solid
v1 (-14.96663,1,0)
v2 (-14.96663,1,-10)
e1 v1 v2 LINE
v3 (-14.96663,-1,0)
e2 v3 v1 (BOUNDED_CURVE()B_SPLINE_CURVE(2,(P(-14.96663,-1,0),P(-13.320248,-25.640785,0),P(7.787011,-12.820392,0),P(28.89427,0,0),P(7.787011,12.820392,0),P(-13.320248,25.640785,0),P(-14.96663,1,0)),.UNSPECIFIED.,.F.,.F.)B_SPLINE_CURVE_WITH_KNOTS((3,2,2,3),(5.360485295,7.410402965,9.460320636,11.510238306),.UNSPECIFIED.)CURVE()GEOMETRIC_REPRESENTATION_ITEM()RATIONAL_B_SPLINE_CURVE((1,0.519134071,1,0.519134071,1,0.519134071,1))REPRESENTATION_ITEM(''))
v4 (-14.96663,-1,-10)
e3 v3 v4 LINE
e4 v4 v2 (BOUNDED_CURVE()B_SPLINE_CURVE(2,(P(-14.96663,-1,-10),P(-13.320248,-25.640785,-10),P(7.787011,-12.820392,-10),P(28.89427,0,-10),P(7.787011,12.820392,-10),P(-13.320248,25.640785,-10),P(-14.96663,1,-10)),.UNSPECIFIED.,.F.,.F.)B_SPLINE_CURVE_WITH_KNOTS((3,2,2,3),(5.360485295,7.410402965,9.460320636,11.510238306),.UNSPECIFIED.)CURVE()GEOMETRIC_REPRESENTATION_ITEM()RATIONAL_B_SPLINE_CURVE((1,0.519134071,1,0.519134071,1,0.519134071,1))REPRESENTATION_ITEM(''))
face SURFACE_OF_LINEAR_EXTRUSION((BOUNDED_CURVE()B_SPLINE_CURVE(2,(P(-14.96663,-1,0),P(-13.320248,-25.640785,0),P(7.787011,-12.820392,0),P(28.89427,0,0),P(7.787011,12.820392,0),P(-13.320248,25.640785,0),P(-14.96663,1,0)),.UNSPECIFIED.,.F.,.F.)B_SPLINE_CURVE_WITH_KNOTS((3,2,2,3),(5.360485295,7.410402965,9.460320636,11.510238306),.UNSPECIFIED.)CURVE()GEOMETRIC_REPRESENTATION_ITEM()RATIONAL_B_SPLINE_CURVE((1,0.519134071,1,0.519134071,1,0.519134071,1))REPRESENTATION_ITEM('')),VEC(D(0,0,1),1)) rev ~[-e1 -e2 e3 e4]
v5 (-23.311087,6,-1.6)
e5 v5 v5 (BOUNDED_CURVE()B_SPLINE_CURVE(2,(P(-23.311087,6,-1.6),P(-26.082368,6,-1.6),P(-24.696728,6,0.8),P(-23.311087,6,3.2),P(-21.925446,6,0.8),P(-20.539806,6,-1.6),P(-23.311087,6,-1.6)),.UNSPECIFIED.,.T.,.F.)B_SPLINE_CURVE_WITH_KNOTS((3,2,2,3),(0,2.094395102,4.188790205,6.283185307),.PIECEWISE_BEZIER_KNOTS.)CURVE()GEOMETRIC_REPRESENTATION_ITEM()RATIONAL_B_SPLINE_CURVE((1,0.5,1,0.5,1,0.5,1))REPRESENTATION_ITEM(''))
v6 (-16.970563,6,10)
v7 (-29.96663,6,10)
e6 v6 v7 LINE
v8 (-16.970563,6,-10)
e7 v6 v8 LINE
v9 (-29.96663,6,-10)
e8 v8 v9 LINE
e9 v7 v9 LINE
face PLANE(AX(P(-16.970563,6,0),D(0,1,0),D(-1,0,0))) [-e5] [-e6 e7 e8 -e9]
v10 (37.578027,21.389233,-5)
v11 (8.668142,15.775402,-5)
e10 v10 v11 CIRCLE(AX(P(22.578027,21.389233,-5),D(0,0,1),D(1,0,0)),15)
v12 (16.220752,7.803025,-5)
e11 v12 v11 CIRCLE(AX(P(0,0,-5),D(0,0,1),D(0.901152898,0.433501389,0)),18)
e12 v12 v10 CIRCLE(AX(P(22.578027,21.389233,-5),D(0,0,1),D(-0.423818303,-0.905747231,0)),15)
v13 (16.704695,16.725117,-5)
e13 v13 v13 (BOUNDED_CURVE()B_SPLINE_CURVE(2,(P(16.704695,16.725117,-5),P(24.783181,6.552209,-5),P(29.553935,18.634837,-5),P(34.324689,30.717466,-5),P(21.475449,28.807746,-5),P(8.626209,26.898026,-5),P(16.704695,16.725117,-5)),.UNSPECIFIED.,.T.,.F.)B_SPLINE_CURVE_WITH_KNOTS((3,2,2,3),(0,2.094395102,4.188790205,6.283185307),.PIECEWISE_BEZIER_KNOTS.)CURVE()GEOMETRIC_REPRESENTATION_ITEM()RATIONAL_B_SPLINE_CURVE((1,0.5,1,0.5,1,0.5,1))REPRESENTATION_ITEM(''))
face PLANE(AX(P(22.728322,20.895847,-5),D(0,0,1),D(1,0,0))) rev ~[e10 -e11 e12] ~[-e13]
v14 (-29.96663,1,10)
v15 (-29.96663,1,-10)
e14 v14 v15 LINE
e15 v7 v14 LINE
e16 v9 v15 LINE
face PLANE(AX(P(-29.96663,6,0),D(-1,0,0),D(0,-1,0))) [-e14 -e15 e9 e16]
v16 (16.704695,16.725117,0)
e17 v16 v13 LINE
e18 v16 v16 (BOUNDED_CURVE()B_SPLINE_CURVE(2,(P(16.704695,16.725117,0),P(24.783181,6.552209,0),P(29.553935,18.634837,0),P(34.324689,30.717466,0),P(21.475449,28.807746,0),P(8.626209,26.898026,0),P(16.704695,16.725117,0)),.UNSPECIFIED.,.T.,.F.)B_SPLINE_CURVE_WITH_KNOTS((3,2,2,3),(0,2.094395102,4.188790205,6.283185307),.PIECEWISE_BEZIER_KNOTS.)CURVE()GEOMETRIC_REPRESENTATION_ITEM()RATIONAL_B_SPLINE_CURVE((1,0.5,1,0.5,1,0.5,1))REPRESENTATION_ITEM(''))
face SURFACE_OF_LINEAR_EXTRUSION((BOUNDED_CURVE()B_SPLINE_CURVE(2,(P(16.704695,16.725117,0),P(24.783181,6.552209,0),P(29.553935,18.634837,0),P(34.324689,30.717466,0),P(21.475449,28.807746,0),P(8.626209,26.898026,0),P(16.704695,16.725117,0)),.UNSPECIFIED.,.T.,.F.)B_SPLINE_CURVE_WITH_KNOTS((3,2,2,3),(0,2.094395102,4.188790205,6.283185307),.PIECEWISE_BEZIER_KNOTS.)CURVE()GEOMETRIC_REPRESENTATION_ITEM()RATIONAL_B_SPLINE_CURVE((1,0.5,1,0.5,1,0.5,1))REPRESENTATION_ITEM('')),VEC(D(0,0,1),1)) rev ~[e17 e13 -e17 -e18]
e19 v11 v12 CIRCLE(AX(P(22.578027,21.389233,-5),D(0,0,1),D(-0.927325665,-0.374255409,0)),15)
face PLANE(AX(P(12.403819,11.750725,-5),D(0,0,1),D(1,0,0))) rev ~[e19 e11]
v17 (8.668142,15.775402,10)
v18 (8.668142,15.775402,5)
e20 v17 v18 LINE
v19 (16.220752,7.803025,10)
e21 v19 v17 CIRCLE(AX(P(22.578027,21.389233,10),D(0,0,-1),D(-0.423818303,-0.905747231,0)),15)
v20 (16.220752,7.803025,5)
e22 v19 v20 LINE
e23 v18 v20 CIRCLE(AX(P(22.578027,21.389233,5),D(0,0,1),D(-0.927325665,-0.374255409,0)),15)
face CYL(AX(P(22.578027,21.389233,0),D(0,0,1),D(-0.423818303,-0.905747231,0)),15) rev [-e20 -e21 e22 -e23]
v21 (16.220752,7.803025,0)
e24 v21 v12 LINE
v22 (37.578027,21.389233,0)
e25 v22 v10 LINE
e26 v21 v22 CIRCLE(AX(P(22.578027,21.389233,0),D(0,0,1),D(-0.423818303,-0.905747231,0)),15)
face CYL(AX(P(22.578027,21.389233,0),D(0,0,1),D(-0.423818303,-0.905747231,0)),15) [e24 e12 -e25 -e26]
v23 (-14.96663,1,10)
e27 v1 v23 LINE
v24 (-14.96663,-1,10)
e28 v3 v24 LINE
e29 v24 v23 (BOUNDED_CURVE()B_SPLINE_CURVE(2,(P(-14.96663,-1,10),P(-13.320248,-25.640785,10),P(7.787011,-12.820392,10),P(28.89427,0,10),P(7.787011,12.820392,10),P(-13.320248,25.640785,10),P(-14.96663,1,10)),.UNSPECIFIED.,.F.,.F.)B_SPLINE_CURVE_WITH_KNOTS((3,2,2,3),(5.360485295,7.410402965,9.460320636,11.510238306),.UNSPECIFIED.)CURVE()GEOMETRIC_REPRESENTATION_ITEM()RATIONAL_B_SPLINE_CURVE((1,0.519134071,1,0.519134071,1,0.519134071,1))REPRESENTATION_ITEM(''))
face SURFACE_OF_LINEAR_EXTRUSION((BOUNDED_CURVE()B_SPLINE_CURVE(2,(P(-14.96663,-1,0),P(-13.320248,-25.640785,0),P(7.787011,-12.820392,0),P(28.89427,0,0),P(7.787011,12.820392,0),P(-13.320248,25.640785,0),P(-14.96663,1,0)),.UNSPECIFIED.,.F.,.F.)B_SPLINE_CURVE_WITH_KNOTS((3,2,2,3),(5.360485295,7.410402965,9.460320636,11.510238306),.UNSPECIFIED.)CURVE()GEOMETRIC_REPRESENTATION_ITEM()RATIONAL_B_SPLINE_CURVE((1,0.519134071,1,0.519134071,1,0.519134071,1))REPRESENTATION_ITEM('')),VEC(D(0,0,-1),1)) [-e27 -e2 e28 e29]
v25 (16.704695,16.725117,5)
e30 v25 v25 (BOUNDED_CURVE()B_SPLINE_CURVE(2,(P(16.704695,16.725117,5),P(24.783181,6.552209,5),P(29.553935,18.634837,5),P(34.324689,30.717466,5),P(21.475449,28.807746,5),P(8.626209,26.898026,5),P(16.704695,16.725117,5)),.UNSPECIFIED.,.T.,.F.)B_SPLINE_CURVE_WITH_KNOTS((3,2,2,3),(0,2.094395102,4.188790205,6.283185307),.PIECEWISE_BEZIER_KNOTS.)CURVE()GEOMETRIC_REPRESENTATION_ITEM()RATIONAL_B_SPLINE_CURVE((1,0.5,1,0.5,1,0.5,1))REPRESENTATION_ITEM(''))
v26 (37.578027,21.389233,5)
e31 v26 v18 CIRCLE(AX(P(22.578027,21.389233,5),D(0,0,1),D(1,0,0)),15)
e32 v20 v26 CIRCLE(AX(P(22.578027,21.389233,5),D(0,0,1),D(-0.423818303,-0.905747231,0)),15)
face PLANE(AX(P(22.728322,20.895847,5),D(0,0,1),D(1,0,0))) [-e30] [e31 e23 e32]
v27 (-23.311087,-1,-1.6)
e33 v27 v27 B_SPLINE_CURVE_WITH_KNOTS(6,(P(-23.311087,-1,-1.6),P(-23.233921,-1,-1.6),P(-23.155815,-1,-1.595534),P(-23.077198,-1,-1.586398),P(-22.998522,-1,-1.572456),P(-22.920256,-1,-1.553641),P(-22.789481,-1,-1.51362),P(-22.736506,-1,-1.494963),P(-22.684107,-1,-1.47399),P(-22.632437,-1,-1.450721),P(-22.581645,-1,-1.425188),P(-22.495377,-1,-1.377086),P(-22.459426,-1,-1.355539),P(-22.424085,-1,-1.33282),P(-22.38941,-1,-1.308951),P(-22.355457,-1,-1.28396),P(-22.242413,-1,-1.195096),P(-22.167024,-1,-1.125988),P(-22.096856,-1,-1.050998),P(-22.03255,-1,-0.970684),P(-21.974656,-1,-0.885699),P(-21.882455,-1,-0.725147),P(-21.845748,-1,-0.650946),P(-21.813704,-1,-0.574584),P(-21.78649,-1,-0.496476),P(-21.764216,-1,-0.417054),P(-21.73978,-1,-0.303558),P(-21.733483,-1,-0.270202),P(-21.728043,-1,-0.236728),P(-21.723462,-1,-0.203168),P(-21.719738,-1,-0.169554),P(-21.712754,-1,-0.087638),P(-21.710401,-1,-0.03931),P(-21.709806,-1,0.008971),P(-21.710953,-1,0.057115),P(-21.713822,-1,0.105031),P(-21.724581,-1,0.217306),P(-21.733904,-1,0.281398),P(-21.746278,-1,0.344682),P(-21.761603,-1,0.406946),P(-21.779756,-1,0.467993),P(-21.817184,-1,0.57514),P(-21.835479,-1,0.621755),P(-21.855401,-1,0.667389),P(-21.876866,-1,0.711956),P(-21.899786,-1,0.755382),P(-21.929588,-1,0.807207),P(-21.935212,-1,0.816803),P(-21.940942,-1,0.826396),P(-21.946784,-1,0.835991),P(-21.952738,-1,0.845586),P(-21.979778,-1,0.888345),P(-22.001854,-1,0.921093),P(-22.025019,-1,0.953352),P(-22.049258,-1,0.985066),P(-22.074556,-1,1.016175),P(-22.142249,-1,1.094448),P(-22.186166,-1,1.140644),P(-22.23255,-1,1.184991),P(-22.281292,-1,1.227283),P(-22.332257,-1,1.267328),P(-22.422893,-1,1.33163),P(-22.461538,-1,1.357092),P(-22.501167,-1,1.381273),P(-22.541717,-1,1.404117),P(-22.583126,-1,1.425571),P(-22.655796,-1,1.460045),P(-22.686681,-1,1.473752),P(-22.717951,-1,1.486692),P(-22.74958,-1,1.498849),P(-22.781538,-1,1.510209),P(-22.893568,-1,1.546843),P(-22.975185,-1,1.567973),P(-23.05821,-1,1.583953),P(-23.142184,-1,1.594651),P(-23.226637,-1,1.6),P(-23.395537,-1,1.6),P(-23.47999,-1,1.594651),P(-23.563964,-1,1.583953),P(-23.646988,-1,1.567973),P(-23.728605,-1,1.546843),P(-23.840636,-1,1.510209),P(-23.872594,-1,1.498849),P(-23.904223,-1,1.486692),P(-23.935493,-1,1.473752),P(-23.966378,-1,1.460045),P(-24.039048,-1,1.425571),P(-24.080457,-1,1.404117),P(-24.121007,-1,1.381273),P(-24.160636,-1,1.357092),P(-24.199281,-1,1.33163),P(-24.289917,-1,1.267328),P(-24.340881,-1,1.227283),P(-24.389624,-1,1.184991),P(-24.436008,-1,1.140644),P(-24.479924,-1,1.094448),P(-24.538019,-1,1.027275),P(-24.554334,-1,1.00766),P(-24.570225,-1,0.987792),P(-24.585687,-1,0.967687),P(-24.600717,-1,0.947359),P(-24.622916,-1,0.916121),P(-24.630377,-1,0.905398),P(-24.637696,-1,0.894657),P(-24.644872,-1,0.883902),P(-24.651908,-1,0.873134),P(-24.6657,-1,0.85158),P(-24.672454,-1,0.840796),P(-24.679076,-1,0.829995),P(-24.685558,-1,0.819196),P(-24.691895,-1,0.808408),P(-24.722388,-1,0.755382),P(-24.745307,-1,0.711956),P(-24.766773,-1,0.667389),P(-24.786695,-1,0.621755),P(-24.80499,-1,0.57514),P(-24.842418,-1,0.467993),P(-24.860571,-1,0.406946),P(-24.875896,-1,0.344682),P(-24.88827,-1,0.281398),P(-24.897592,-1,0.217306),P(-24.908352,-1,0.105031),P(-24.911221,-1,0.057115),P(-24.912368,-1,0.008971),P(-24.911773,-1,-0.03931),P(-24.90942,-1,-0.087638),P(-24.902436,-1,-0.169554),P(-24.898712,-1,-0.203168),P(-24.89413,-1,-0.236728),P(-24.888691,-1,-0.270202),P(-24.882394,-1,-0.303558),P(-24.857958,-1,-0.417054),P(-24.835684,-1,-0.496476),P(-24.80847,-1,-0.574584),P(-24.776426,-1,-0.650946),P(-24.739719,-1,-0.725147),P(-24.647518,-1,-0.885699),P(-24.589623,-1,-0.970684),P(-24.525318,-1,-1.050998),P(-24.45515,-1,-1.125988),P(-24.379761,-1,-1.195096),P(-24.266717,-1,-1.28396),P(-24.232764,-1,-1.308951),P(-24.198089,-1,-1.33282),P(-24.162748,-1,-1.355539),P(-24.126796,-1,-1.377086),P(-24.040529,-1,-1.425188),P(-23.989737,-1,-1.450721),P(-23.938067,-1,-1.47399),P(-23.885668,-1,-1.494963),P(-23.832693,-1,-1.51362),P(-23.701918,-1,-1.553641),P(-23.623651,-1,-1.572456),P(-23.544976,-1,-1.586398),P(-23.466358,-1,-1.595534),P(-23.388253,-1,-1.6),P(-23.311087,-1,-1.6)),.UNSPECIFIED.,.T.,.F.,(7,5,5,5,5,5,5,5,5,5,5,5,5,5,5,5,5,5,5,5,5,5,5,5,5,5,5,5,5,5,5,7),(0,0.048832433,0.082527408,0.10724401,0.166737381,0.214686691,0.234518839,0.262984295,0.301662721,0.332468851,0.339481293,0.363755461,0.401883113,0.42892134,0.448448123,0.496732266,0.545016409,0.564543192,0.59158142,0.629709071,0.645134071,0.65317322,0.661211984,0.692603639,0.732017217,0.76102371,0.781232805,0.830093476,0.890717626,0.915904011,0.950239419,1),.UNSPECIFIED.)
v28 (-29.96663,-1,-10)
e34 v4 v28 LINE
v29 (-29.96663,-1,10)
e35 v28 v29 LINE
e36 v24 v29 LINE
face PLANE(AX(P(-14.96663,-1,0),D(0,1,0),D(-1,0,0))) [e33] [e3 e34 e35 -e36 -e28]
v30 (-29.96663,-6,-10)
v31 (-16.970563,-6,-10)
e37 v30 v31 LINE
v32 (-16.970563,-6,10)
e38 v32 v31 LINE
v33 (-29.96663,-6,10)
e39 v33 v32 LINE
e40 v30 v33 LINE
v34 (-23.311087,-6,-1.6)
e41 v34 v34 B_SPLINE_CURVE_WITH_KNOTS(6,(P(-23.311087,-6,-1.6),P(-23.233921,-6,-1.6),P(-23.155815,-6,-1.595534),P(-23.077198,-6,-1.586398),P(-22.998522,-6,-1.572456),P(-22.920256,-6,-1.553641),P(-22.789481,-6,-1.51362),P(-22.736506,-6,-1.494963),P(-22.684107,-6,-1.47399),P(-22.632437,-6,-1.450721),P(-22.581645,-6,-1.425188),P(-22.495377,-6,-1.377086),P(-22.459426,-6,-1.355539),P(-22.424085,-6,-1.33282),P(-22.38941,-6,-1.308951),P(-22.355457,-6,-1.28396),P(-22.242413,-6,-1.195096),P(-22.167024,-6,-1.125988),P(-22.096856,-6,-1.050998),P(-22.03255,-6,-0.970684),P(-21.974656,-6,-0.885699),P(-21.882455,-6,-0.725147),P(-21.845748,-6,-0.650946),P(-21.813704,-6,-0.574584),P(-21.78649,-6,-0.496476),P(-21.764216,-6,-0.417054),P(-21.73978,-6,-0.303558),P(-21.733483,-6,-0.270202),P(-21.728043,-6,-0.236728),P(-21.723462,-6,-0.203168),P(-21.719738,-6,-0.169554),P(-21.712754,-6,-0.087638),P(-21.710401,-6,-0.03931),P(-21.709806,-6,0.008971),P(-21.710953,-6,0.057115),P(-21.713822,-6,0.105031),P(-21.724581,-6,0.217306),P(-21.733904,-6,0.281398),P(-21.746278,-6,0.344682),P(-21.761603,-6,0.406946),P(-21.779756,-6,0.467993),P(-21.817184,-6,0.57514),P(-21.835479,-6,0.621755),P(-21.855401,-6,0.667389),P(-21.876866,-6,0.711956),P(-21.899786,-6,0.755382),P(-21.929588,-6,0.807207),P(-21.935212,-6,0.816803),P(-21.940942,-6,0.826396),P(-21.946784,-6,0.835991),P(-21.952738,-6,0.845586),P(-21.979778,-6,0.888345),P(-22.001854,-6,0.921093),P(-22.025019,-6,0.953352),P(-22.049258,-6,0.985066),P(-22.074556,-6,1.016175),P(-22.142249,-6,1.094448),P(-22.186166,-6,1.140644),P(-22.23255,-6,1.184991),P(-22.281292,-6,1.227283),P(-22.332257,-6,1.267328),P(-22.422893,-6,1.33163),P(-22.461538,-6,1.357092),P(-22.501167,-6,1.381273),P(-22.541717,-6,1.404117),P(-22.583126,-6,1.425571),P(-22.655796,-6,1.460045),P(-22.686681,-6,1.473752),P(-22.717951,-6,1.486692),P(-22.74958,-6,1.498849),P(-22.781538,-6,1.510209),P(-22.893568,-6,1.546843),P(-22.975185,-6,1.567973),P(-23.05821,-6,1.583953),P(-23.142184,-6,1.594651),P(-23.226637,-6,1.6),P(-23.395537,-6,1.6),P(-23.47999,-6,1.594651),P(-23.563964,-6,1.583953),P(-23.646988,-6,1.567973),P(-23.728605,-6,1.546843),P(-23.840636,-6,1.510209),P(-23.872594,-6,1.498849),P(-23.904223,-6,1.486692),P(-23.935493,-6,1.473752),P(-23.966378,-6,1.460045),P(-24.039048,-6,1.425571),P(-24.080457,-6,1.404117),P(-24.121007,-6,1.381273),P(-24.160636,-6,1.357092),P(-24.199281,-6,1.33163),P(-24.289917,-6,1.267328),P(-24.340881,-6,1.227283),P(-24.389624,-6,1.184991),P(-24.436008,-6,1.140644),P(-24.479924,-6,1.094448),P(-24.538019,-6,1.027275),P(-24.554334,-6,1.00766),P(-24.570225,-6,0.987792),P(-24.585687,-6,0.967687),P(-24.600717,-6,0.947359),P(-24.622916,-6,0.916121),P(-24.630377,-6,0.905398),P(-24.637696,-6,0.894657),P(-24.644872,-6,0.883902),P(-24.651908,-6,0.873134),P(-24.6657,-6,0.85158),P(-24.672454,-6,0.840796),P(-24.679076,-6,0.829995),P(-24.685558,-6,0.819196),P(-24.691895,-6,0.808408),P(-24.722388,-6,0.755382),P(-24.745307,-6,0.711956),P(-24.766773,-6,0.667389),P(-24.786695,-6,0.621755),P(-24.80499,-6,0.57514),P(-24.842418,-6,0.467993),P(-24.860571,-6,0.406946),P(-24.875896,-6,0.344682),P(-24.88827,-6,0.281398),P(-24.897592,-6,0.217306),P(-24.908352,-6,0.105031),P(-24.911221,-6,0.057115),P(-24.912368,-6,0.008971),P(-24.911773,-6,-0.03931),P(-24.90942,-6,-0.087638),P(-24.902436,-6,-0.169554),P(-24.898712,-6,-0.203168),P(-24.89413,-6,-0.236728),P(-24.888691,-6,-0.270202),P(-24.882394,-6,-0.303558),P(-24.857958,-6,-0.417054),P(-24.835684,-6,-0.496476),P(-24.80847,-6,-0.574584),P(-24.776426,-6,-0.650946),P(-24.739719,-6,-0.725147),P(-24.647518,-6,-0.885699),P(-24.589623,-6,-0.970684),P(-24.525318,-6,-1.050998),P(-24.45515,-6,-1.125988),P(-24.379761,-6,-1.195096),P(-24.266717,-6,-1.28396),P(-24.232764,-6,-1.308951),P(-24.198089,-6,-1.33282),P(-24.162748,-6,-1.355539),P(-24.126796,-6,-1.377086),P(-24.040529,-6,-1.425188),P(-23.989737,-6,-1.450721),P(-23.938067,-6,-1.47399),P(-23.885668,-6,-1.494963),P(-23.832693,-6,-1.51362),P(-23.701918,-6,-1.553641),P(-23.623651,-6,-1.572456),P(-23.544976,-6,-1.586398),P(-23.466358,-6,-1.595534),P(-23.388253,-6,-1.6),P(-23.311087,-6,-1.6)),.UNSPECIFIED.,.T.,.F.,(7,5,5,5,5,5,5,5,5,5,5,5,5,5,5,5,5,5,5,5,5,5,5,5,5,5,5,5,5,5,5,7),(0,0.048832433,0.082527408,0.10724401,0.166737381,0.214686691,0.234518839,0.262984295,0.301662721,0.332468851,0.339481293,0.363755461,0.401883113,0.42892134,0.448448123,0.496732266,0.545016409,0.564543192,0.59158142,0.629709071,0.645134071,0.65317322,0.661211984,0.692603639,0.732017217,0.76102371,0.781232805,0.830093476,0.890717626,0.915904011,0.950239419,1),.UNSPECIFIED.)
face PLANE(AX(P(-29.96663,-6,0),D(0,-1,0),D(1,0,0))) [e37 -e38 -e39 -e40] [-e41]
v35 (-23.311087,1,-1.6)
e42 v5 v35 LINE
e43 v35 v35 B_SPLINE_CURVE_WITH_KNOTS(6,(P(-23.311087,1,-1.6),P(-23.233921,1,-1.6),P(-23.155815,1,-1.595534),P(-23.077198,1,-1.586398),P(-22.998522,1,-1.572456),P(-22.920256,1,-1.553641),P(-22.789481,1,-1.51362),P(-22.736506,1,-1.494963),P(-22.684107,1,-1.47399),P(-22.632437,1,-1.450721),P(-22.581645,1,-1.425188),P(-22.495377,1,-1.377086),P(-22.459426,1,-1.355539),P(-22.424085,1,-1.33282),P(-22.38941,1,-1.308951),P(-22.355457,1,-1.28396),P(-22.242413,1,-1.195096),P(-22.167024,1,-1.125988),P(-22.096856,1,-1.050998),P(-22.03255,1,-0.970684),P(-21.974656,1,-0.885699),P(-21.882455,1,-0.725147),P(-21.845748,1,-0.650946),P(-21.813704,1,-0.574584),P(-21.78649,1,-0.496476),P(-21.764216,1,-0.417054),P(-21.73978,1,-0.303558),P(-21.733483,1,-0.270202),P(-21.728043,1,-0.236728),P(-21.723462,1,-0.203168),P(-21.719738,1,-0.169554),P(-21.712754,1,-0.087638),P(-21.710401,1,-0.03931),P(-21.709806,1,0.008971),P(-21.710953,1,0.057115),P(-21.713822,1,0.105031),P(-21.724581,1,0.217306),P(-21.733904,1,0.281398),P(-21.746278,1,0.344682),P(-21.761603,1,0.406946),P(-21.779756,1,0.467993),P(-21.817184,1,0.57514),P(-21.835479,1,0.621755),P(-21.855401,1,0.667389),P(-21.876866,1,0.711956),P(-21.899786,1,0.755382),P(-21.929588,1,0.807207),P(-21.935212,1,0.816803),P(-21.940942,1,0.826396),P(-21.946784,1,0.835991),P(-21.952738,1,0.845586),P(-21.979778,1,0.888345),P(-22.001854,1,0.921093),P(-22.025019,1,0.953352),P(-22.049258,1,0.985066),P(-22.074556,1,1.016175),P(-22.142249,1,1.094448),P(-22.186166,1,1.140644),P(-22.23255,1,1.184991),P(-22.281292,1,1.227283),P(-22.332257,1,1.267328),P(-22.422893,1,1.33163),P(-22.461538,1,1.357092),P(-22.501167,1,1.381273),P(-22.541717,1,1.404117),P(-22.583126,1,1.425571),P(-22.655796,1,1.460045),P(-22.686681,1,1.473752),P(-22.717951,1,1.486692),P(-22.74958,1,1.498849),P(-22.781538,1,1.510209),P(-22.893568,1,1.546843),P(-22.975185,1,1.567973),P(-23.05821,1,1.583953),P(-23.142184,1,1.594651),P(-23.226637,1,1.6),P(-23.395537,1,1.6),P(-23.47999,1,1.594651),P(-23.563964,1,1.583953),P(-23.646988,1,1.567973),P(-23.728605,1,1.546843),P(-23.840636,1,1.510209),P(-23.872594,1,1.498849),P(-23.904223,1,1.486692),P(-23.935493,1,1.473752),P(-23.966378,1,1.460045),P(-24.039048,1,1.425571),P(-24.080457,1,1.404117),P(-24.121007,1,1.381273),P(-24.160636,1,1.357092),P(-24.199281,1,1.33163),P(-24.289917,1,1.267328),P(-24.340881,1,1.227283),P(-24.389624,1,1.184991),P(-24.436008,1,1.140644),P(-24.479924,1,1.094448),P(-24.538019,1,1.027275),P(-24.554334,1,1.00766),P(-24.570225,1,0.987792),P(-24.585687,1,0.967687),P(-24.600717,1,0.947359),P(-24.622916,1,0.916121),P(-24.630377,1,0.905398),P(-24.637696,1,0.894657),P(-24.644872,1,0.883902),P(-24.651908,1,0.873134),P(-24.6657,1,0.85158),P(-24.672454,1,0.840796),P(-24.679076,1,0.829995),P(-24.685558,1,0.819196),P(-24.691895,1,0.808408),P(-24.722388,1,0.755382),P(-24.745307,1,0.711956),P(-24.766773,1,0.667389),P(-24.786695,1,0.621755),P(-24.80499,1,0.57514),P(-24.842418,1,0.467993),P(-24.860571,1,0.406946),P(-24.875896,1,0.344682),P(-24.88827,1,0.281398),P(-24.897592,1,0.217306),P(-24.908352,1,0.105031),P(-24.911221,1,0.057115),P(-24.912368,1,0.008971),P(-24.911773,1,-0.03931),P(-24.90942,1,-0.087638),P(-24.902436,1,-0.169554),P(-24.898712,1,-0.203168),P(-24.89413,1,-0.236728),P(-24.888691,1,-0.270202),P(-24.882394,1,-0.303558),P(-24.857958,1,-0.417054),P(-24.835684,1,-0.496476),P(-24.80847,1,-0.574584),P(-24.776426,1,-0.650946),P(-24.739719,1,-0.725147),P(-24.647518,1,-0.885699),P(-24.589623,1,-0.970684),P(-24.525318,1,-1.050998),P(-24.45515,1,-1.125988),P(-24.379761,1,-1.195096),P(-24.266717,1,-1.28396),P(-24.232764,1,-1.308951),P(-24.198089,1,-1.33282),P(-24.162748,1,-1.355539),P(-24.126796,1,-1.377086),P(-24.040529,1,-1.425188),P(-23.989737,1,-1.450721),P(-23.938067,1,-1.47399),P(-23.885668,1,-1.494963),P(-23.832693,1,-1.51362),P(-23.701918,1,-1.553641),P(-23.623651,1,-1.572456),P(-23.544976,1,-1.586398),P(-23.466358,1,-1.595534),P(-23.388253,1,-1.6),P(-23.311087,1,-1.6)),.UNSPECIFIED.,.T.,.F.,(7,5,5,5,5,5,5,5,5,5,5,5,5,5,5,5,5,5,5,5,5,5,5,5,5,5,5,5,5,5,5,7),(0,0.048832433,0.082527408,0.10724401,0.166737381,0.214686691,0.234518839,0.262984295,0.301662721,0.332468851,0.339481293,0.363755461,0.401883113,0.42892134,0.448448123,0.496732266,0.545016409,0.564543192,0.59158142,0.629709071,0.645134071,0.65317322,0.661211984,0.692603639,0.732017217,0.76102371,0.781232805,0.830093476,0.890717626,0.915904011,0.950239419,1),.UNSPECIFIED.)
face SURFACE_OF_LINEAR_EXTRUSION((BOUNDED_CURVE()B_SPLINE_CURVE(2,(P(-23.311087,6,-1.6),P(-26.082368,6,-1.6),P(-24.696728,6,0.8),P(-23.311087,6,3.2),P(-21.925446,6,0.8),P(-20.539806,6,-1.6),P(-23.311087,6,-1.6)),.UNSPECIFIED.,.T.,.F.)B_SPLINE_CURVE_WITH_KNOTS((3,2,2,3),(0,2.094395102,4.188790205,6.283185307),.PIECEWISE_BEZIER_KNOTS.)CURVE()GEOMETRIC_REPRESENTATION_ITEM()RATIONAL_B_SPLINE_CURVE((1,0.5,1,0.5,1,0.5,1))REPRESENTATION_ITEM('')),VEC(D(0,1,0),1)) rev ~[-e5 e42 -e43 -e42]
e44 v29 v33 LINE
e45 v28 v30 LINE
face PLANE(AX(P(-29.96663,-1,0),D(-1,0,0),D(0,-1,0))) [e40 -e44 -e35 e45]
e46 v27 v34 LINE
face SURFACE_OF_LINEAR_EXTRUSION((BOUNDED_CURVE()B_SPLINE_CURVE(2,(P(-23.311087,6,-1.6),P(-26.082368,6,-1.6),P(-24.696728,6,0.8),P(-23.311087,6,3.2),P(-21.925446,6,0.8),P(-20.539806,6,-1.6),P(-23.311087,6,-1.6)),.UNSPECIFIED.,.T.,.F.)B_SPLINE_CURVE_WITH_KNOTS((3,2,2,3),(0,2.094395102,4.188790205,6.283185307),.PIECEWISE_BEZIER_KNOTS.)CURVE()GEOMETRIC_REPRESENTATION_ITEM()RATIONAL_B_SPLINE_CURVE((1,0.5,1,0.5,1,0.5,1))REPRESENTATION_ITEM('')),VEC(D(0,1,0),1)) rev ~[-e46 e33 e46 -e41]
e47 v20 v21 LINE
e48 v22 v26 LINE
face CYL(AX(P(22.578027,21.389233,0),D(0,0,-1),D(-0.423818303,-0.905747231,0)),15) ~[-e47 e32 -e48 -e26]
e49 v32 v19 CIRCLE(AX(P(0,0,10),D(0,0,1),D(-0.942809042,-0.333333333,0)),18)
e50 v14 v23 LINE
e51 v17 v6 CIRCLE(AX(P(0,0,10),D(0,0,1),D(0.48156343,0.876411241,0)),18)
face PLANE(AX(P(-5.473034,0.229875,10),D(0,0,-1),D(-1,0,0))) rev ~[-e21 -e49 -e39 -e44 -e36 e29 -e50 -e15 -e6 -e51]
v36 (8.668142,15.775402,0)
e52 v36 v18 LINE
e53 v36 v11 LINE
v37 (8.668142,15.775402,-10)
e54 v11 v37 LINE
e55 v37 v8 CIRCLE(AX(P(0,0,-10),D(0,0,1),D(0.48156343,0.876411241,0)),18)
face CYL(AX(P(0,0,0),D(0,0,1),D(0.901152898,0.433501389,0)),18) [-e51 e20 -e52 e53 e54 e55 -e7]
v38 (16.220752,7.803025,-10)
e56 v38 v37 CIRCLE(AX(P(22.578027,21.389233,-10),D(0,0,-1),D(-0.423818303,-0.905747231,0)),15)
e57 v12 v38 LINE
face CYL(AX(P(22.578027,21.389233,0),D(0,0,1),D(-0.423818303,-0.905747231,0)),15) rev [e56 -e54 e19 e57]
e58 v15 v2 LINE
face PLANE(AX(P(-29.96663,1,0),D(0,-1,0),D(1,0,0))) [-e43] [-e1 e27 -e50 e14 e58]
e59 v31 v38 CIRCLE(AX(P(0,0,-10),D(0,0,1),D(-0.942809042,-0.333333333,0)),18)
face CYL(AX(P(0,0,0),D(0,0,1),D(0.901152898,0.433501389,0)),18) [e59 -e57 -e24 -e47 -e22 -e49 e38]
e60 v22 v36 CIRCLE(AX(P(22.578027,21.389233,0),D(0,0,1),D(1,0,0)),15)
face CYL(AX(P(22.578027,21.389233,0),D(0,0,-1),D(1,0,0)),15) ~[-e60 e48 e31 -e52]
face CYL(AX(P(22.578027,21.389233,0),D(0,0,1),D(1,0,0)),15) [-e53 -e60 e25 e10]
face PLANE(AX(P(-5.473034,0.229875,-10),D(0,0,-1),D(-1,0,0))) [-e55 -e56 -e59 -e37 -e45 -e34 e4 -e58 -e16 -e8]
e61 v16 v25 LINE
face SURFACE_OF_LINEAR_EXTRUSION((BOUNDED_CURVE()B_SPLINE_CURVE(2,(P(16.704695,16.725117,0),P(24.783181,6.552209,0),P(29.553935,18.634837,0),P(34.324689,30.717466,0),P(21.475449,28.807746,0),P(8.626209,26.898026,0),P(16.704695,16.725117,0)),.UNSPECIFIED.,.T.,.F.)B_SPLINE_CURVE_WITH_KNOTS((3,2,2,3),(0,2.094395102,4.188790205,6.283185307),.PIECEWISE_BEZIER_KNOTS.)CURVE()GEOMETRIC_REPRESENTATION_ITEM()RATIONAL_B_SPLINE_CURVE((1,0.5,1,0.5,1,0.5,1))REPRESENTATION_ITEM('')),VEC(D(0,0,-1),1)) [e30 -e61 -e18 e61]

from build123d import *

# Parameters (mm, degrees)
F1_DEPTH      = 10
F1_DEPTH_BACK = 10
F2_DEPTH      = 5
F2_DEPTH_BACK = 5
F0_R          = 10
F3_DEPTH      = 5
F3_DEPTH_BACK = 5
F5_DEPTH      = 25


with BuildPart() as f1:
    # F0 (on Top) → F1 (new body, two sides)
    with BuildSketch(Plane.XY) as f1_sk:
        with BuildLine():
            add(Edge.make_bspline(
                [(-14.9666295471, -1), (-13.3202478735, -25.6407846023), (7.7870110598, -12.8203923011), (28.894269993, 0), (7.7870110598, 12.8203923011), (-13.3202478735, 25.6407846023), (-14.9666295471, 1)],
                knots=[5.3604852952, 5.3604852952, 5.3604852952, 7.4104029654, 7.4104029654, 9.4603206355, 9.4603206355, 11.5102383056, 11.5102383056, 11.5102383056], degree=2, weights=[1, 0.5191340707, 1, 0.5191340707, 1, 0.5191340707, 1]))
            Line((-14.9666295471, -1), (-29.9666295471, -1))
            Line((-29.9666295471, -1), (-29.9666295471, -6))
            Line((-29.9666295471, -6), (-16.9705627485, -6))
            ThreePointArc((-16.9705627485, -6), (6.9116878404, -16.6201254868), (16.220752164, 7.8030250054))
            ThreePointArc((16.220752164, 7.8030250054), (11.6886218218, 11.0731847483), (8.6681417363, 15.7754023353))
            ThreePointArc((8.6681417363, 15.7754023353), (-6.4126571224, 16.8189722822), (-16.9705627485, 6))
            Line((-16.9705627485, 6), (-29.9666295471, 6))
            Line((-29.9666295471, 6), (-29.9666295471, 1))
            Line((-29.9666295471, 1), (-14.9666295471, 1))
        make_face()
    extrude(amount=F1_DEPTH)
    extrude(f1_sk.sketch, amount=-F1_DEPTH_BACK)

    # F0 (on Top) → F2 (join, two sides)
    with BuildSketch(Plane.XY) as f2_sk:
        with BuildLine():
            ThreePointArc((8.6681417363, 15.7754023353), (11.6886218218, 11.0731847483), (16.220752164, 7.8030250054))
            ThreePointArc((16.220752164, 7.8030250054), (13.0672858684, 12.3792584605), (8.6681417363, 15.7754023353))
        make_face()
    extrude(amount=F2_DEPTH)
    extrude(f2_sk.sketch, amount=-F2_DEPTH_BACK)

    # F0 (on Top) → F3 (join, two sides)
    with BuildSketch(Plane.XY) as f3_sk:
        with BuildLine():
            ThreePointArc((8.6681417363, 15.7754023353), (13.0672858684, 12.3792584605), (16.220752164, 7.8030250054))
            ThreePointArc((16.220752164, 7.8030250054), (30.629140976, 8.7330271179), (37.5780267122, 21.3892334654))
            ThreePointArc((37.5780267122, 21.3892334654), (19.7186801643, 36.1141829499), (8.6681417363, 15.7754023353))
        make_face()
        with Locations((22.5780267122, 21.3892334654)):
            Circle(F0_R, mode=Mode.SUBTRACT)
        with Locations((22.5780267122, 21.3892334654)):
            Circle(F0_R)
        with BuildLine():
            add(Edge.make_bspline(
                [(16.7046953528, 16.7251173924), (24.7831813636, 6.5522090682), (29.5539353973, 18.6348373398), (34.324689431, 30.7174656114), (21.4754493865, 28.807745664), (8.6262093419, 26.8980257167), (16.7046953528, 16.7251173924)],
                knots=[0, 0, 0, 2.0943951024, 2.0943951024, 4.1887902048, 4.1887902048, 6.2831853072, 6.2831853072, 6.2831853072], degree=2, weights=[1, 0.5, 1, 0.5, 1, 0.5, 1]))
        make_face(mode=Mode.SUBTRACT)
    extrude(amount=F3_DEPTH)
    extrude(f3_sk.sketch, amount=-F3_DEPTH_BACK)

    # F4 (on face) → F5 (cut)
    with BuildSketch(Plane(origin=(0, 6, 0), x_dir=(-1, 0, 0), z_dir=(0, 1, 0))):
        with BuildLine():
            add(Edge.make_bspline(
                [(23.311086945, -1.6), (26.0823682371, -1.6), (24.6967275911, 0.8), (23.311086945, 3.2), (21.9254462989, 0.8), (20.5398056529, -1.6), (23.311086945, -1.6)],
                knots=[0, 0, 0, 2.0943951024, 2.0943951024, 4.1887902048, 4.1887902048, 6.2831853072, 6.2831853072, 6.2831853072], degree=2, weights=[1, 0.5, 1, 0.5, 1, 0.5, 1]))
        make_face()
    extrude(amount=-F5_DEPTH, mode=Mode.SUBTRACT)


solid = f1.part
